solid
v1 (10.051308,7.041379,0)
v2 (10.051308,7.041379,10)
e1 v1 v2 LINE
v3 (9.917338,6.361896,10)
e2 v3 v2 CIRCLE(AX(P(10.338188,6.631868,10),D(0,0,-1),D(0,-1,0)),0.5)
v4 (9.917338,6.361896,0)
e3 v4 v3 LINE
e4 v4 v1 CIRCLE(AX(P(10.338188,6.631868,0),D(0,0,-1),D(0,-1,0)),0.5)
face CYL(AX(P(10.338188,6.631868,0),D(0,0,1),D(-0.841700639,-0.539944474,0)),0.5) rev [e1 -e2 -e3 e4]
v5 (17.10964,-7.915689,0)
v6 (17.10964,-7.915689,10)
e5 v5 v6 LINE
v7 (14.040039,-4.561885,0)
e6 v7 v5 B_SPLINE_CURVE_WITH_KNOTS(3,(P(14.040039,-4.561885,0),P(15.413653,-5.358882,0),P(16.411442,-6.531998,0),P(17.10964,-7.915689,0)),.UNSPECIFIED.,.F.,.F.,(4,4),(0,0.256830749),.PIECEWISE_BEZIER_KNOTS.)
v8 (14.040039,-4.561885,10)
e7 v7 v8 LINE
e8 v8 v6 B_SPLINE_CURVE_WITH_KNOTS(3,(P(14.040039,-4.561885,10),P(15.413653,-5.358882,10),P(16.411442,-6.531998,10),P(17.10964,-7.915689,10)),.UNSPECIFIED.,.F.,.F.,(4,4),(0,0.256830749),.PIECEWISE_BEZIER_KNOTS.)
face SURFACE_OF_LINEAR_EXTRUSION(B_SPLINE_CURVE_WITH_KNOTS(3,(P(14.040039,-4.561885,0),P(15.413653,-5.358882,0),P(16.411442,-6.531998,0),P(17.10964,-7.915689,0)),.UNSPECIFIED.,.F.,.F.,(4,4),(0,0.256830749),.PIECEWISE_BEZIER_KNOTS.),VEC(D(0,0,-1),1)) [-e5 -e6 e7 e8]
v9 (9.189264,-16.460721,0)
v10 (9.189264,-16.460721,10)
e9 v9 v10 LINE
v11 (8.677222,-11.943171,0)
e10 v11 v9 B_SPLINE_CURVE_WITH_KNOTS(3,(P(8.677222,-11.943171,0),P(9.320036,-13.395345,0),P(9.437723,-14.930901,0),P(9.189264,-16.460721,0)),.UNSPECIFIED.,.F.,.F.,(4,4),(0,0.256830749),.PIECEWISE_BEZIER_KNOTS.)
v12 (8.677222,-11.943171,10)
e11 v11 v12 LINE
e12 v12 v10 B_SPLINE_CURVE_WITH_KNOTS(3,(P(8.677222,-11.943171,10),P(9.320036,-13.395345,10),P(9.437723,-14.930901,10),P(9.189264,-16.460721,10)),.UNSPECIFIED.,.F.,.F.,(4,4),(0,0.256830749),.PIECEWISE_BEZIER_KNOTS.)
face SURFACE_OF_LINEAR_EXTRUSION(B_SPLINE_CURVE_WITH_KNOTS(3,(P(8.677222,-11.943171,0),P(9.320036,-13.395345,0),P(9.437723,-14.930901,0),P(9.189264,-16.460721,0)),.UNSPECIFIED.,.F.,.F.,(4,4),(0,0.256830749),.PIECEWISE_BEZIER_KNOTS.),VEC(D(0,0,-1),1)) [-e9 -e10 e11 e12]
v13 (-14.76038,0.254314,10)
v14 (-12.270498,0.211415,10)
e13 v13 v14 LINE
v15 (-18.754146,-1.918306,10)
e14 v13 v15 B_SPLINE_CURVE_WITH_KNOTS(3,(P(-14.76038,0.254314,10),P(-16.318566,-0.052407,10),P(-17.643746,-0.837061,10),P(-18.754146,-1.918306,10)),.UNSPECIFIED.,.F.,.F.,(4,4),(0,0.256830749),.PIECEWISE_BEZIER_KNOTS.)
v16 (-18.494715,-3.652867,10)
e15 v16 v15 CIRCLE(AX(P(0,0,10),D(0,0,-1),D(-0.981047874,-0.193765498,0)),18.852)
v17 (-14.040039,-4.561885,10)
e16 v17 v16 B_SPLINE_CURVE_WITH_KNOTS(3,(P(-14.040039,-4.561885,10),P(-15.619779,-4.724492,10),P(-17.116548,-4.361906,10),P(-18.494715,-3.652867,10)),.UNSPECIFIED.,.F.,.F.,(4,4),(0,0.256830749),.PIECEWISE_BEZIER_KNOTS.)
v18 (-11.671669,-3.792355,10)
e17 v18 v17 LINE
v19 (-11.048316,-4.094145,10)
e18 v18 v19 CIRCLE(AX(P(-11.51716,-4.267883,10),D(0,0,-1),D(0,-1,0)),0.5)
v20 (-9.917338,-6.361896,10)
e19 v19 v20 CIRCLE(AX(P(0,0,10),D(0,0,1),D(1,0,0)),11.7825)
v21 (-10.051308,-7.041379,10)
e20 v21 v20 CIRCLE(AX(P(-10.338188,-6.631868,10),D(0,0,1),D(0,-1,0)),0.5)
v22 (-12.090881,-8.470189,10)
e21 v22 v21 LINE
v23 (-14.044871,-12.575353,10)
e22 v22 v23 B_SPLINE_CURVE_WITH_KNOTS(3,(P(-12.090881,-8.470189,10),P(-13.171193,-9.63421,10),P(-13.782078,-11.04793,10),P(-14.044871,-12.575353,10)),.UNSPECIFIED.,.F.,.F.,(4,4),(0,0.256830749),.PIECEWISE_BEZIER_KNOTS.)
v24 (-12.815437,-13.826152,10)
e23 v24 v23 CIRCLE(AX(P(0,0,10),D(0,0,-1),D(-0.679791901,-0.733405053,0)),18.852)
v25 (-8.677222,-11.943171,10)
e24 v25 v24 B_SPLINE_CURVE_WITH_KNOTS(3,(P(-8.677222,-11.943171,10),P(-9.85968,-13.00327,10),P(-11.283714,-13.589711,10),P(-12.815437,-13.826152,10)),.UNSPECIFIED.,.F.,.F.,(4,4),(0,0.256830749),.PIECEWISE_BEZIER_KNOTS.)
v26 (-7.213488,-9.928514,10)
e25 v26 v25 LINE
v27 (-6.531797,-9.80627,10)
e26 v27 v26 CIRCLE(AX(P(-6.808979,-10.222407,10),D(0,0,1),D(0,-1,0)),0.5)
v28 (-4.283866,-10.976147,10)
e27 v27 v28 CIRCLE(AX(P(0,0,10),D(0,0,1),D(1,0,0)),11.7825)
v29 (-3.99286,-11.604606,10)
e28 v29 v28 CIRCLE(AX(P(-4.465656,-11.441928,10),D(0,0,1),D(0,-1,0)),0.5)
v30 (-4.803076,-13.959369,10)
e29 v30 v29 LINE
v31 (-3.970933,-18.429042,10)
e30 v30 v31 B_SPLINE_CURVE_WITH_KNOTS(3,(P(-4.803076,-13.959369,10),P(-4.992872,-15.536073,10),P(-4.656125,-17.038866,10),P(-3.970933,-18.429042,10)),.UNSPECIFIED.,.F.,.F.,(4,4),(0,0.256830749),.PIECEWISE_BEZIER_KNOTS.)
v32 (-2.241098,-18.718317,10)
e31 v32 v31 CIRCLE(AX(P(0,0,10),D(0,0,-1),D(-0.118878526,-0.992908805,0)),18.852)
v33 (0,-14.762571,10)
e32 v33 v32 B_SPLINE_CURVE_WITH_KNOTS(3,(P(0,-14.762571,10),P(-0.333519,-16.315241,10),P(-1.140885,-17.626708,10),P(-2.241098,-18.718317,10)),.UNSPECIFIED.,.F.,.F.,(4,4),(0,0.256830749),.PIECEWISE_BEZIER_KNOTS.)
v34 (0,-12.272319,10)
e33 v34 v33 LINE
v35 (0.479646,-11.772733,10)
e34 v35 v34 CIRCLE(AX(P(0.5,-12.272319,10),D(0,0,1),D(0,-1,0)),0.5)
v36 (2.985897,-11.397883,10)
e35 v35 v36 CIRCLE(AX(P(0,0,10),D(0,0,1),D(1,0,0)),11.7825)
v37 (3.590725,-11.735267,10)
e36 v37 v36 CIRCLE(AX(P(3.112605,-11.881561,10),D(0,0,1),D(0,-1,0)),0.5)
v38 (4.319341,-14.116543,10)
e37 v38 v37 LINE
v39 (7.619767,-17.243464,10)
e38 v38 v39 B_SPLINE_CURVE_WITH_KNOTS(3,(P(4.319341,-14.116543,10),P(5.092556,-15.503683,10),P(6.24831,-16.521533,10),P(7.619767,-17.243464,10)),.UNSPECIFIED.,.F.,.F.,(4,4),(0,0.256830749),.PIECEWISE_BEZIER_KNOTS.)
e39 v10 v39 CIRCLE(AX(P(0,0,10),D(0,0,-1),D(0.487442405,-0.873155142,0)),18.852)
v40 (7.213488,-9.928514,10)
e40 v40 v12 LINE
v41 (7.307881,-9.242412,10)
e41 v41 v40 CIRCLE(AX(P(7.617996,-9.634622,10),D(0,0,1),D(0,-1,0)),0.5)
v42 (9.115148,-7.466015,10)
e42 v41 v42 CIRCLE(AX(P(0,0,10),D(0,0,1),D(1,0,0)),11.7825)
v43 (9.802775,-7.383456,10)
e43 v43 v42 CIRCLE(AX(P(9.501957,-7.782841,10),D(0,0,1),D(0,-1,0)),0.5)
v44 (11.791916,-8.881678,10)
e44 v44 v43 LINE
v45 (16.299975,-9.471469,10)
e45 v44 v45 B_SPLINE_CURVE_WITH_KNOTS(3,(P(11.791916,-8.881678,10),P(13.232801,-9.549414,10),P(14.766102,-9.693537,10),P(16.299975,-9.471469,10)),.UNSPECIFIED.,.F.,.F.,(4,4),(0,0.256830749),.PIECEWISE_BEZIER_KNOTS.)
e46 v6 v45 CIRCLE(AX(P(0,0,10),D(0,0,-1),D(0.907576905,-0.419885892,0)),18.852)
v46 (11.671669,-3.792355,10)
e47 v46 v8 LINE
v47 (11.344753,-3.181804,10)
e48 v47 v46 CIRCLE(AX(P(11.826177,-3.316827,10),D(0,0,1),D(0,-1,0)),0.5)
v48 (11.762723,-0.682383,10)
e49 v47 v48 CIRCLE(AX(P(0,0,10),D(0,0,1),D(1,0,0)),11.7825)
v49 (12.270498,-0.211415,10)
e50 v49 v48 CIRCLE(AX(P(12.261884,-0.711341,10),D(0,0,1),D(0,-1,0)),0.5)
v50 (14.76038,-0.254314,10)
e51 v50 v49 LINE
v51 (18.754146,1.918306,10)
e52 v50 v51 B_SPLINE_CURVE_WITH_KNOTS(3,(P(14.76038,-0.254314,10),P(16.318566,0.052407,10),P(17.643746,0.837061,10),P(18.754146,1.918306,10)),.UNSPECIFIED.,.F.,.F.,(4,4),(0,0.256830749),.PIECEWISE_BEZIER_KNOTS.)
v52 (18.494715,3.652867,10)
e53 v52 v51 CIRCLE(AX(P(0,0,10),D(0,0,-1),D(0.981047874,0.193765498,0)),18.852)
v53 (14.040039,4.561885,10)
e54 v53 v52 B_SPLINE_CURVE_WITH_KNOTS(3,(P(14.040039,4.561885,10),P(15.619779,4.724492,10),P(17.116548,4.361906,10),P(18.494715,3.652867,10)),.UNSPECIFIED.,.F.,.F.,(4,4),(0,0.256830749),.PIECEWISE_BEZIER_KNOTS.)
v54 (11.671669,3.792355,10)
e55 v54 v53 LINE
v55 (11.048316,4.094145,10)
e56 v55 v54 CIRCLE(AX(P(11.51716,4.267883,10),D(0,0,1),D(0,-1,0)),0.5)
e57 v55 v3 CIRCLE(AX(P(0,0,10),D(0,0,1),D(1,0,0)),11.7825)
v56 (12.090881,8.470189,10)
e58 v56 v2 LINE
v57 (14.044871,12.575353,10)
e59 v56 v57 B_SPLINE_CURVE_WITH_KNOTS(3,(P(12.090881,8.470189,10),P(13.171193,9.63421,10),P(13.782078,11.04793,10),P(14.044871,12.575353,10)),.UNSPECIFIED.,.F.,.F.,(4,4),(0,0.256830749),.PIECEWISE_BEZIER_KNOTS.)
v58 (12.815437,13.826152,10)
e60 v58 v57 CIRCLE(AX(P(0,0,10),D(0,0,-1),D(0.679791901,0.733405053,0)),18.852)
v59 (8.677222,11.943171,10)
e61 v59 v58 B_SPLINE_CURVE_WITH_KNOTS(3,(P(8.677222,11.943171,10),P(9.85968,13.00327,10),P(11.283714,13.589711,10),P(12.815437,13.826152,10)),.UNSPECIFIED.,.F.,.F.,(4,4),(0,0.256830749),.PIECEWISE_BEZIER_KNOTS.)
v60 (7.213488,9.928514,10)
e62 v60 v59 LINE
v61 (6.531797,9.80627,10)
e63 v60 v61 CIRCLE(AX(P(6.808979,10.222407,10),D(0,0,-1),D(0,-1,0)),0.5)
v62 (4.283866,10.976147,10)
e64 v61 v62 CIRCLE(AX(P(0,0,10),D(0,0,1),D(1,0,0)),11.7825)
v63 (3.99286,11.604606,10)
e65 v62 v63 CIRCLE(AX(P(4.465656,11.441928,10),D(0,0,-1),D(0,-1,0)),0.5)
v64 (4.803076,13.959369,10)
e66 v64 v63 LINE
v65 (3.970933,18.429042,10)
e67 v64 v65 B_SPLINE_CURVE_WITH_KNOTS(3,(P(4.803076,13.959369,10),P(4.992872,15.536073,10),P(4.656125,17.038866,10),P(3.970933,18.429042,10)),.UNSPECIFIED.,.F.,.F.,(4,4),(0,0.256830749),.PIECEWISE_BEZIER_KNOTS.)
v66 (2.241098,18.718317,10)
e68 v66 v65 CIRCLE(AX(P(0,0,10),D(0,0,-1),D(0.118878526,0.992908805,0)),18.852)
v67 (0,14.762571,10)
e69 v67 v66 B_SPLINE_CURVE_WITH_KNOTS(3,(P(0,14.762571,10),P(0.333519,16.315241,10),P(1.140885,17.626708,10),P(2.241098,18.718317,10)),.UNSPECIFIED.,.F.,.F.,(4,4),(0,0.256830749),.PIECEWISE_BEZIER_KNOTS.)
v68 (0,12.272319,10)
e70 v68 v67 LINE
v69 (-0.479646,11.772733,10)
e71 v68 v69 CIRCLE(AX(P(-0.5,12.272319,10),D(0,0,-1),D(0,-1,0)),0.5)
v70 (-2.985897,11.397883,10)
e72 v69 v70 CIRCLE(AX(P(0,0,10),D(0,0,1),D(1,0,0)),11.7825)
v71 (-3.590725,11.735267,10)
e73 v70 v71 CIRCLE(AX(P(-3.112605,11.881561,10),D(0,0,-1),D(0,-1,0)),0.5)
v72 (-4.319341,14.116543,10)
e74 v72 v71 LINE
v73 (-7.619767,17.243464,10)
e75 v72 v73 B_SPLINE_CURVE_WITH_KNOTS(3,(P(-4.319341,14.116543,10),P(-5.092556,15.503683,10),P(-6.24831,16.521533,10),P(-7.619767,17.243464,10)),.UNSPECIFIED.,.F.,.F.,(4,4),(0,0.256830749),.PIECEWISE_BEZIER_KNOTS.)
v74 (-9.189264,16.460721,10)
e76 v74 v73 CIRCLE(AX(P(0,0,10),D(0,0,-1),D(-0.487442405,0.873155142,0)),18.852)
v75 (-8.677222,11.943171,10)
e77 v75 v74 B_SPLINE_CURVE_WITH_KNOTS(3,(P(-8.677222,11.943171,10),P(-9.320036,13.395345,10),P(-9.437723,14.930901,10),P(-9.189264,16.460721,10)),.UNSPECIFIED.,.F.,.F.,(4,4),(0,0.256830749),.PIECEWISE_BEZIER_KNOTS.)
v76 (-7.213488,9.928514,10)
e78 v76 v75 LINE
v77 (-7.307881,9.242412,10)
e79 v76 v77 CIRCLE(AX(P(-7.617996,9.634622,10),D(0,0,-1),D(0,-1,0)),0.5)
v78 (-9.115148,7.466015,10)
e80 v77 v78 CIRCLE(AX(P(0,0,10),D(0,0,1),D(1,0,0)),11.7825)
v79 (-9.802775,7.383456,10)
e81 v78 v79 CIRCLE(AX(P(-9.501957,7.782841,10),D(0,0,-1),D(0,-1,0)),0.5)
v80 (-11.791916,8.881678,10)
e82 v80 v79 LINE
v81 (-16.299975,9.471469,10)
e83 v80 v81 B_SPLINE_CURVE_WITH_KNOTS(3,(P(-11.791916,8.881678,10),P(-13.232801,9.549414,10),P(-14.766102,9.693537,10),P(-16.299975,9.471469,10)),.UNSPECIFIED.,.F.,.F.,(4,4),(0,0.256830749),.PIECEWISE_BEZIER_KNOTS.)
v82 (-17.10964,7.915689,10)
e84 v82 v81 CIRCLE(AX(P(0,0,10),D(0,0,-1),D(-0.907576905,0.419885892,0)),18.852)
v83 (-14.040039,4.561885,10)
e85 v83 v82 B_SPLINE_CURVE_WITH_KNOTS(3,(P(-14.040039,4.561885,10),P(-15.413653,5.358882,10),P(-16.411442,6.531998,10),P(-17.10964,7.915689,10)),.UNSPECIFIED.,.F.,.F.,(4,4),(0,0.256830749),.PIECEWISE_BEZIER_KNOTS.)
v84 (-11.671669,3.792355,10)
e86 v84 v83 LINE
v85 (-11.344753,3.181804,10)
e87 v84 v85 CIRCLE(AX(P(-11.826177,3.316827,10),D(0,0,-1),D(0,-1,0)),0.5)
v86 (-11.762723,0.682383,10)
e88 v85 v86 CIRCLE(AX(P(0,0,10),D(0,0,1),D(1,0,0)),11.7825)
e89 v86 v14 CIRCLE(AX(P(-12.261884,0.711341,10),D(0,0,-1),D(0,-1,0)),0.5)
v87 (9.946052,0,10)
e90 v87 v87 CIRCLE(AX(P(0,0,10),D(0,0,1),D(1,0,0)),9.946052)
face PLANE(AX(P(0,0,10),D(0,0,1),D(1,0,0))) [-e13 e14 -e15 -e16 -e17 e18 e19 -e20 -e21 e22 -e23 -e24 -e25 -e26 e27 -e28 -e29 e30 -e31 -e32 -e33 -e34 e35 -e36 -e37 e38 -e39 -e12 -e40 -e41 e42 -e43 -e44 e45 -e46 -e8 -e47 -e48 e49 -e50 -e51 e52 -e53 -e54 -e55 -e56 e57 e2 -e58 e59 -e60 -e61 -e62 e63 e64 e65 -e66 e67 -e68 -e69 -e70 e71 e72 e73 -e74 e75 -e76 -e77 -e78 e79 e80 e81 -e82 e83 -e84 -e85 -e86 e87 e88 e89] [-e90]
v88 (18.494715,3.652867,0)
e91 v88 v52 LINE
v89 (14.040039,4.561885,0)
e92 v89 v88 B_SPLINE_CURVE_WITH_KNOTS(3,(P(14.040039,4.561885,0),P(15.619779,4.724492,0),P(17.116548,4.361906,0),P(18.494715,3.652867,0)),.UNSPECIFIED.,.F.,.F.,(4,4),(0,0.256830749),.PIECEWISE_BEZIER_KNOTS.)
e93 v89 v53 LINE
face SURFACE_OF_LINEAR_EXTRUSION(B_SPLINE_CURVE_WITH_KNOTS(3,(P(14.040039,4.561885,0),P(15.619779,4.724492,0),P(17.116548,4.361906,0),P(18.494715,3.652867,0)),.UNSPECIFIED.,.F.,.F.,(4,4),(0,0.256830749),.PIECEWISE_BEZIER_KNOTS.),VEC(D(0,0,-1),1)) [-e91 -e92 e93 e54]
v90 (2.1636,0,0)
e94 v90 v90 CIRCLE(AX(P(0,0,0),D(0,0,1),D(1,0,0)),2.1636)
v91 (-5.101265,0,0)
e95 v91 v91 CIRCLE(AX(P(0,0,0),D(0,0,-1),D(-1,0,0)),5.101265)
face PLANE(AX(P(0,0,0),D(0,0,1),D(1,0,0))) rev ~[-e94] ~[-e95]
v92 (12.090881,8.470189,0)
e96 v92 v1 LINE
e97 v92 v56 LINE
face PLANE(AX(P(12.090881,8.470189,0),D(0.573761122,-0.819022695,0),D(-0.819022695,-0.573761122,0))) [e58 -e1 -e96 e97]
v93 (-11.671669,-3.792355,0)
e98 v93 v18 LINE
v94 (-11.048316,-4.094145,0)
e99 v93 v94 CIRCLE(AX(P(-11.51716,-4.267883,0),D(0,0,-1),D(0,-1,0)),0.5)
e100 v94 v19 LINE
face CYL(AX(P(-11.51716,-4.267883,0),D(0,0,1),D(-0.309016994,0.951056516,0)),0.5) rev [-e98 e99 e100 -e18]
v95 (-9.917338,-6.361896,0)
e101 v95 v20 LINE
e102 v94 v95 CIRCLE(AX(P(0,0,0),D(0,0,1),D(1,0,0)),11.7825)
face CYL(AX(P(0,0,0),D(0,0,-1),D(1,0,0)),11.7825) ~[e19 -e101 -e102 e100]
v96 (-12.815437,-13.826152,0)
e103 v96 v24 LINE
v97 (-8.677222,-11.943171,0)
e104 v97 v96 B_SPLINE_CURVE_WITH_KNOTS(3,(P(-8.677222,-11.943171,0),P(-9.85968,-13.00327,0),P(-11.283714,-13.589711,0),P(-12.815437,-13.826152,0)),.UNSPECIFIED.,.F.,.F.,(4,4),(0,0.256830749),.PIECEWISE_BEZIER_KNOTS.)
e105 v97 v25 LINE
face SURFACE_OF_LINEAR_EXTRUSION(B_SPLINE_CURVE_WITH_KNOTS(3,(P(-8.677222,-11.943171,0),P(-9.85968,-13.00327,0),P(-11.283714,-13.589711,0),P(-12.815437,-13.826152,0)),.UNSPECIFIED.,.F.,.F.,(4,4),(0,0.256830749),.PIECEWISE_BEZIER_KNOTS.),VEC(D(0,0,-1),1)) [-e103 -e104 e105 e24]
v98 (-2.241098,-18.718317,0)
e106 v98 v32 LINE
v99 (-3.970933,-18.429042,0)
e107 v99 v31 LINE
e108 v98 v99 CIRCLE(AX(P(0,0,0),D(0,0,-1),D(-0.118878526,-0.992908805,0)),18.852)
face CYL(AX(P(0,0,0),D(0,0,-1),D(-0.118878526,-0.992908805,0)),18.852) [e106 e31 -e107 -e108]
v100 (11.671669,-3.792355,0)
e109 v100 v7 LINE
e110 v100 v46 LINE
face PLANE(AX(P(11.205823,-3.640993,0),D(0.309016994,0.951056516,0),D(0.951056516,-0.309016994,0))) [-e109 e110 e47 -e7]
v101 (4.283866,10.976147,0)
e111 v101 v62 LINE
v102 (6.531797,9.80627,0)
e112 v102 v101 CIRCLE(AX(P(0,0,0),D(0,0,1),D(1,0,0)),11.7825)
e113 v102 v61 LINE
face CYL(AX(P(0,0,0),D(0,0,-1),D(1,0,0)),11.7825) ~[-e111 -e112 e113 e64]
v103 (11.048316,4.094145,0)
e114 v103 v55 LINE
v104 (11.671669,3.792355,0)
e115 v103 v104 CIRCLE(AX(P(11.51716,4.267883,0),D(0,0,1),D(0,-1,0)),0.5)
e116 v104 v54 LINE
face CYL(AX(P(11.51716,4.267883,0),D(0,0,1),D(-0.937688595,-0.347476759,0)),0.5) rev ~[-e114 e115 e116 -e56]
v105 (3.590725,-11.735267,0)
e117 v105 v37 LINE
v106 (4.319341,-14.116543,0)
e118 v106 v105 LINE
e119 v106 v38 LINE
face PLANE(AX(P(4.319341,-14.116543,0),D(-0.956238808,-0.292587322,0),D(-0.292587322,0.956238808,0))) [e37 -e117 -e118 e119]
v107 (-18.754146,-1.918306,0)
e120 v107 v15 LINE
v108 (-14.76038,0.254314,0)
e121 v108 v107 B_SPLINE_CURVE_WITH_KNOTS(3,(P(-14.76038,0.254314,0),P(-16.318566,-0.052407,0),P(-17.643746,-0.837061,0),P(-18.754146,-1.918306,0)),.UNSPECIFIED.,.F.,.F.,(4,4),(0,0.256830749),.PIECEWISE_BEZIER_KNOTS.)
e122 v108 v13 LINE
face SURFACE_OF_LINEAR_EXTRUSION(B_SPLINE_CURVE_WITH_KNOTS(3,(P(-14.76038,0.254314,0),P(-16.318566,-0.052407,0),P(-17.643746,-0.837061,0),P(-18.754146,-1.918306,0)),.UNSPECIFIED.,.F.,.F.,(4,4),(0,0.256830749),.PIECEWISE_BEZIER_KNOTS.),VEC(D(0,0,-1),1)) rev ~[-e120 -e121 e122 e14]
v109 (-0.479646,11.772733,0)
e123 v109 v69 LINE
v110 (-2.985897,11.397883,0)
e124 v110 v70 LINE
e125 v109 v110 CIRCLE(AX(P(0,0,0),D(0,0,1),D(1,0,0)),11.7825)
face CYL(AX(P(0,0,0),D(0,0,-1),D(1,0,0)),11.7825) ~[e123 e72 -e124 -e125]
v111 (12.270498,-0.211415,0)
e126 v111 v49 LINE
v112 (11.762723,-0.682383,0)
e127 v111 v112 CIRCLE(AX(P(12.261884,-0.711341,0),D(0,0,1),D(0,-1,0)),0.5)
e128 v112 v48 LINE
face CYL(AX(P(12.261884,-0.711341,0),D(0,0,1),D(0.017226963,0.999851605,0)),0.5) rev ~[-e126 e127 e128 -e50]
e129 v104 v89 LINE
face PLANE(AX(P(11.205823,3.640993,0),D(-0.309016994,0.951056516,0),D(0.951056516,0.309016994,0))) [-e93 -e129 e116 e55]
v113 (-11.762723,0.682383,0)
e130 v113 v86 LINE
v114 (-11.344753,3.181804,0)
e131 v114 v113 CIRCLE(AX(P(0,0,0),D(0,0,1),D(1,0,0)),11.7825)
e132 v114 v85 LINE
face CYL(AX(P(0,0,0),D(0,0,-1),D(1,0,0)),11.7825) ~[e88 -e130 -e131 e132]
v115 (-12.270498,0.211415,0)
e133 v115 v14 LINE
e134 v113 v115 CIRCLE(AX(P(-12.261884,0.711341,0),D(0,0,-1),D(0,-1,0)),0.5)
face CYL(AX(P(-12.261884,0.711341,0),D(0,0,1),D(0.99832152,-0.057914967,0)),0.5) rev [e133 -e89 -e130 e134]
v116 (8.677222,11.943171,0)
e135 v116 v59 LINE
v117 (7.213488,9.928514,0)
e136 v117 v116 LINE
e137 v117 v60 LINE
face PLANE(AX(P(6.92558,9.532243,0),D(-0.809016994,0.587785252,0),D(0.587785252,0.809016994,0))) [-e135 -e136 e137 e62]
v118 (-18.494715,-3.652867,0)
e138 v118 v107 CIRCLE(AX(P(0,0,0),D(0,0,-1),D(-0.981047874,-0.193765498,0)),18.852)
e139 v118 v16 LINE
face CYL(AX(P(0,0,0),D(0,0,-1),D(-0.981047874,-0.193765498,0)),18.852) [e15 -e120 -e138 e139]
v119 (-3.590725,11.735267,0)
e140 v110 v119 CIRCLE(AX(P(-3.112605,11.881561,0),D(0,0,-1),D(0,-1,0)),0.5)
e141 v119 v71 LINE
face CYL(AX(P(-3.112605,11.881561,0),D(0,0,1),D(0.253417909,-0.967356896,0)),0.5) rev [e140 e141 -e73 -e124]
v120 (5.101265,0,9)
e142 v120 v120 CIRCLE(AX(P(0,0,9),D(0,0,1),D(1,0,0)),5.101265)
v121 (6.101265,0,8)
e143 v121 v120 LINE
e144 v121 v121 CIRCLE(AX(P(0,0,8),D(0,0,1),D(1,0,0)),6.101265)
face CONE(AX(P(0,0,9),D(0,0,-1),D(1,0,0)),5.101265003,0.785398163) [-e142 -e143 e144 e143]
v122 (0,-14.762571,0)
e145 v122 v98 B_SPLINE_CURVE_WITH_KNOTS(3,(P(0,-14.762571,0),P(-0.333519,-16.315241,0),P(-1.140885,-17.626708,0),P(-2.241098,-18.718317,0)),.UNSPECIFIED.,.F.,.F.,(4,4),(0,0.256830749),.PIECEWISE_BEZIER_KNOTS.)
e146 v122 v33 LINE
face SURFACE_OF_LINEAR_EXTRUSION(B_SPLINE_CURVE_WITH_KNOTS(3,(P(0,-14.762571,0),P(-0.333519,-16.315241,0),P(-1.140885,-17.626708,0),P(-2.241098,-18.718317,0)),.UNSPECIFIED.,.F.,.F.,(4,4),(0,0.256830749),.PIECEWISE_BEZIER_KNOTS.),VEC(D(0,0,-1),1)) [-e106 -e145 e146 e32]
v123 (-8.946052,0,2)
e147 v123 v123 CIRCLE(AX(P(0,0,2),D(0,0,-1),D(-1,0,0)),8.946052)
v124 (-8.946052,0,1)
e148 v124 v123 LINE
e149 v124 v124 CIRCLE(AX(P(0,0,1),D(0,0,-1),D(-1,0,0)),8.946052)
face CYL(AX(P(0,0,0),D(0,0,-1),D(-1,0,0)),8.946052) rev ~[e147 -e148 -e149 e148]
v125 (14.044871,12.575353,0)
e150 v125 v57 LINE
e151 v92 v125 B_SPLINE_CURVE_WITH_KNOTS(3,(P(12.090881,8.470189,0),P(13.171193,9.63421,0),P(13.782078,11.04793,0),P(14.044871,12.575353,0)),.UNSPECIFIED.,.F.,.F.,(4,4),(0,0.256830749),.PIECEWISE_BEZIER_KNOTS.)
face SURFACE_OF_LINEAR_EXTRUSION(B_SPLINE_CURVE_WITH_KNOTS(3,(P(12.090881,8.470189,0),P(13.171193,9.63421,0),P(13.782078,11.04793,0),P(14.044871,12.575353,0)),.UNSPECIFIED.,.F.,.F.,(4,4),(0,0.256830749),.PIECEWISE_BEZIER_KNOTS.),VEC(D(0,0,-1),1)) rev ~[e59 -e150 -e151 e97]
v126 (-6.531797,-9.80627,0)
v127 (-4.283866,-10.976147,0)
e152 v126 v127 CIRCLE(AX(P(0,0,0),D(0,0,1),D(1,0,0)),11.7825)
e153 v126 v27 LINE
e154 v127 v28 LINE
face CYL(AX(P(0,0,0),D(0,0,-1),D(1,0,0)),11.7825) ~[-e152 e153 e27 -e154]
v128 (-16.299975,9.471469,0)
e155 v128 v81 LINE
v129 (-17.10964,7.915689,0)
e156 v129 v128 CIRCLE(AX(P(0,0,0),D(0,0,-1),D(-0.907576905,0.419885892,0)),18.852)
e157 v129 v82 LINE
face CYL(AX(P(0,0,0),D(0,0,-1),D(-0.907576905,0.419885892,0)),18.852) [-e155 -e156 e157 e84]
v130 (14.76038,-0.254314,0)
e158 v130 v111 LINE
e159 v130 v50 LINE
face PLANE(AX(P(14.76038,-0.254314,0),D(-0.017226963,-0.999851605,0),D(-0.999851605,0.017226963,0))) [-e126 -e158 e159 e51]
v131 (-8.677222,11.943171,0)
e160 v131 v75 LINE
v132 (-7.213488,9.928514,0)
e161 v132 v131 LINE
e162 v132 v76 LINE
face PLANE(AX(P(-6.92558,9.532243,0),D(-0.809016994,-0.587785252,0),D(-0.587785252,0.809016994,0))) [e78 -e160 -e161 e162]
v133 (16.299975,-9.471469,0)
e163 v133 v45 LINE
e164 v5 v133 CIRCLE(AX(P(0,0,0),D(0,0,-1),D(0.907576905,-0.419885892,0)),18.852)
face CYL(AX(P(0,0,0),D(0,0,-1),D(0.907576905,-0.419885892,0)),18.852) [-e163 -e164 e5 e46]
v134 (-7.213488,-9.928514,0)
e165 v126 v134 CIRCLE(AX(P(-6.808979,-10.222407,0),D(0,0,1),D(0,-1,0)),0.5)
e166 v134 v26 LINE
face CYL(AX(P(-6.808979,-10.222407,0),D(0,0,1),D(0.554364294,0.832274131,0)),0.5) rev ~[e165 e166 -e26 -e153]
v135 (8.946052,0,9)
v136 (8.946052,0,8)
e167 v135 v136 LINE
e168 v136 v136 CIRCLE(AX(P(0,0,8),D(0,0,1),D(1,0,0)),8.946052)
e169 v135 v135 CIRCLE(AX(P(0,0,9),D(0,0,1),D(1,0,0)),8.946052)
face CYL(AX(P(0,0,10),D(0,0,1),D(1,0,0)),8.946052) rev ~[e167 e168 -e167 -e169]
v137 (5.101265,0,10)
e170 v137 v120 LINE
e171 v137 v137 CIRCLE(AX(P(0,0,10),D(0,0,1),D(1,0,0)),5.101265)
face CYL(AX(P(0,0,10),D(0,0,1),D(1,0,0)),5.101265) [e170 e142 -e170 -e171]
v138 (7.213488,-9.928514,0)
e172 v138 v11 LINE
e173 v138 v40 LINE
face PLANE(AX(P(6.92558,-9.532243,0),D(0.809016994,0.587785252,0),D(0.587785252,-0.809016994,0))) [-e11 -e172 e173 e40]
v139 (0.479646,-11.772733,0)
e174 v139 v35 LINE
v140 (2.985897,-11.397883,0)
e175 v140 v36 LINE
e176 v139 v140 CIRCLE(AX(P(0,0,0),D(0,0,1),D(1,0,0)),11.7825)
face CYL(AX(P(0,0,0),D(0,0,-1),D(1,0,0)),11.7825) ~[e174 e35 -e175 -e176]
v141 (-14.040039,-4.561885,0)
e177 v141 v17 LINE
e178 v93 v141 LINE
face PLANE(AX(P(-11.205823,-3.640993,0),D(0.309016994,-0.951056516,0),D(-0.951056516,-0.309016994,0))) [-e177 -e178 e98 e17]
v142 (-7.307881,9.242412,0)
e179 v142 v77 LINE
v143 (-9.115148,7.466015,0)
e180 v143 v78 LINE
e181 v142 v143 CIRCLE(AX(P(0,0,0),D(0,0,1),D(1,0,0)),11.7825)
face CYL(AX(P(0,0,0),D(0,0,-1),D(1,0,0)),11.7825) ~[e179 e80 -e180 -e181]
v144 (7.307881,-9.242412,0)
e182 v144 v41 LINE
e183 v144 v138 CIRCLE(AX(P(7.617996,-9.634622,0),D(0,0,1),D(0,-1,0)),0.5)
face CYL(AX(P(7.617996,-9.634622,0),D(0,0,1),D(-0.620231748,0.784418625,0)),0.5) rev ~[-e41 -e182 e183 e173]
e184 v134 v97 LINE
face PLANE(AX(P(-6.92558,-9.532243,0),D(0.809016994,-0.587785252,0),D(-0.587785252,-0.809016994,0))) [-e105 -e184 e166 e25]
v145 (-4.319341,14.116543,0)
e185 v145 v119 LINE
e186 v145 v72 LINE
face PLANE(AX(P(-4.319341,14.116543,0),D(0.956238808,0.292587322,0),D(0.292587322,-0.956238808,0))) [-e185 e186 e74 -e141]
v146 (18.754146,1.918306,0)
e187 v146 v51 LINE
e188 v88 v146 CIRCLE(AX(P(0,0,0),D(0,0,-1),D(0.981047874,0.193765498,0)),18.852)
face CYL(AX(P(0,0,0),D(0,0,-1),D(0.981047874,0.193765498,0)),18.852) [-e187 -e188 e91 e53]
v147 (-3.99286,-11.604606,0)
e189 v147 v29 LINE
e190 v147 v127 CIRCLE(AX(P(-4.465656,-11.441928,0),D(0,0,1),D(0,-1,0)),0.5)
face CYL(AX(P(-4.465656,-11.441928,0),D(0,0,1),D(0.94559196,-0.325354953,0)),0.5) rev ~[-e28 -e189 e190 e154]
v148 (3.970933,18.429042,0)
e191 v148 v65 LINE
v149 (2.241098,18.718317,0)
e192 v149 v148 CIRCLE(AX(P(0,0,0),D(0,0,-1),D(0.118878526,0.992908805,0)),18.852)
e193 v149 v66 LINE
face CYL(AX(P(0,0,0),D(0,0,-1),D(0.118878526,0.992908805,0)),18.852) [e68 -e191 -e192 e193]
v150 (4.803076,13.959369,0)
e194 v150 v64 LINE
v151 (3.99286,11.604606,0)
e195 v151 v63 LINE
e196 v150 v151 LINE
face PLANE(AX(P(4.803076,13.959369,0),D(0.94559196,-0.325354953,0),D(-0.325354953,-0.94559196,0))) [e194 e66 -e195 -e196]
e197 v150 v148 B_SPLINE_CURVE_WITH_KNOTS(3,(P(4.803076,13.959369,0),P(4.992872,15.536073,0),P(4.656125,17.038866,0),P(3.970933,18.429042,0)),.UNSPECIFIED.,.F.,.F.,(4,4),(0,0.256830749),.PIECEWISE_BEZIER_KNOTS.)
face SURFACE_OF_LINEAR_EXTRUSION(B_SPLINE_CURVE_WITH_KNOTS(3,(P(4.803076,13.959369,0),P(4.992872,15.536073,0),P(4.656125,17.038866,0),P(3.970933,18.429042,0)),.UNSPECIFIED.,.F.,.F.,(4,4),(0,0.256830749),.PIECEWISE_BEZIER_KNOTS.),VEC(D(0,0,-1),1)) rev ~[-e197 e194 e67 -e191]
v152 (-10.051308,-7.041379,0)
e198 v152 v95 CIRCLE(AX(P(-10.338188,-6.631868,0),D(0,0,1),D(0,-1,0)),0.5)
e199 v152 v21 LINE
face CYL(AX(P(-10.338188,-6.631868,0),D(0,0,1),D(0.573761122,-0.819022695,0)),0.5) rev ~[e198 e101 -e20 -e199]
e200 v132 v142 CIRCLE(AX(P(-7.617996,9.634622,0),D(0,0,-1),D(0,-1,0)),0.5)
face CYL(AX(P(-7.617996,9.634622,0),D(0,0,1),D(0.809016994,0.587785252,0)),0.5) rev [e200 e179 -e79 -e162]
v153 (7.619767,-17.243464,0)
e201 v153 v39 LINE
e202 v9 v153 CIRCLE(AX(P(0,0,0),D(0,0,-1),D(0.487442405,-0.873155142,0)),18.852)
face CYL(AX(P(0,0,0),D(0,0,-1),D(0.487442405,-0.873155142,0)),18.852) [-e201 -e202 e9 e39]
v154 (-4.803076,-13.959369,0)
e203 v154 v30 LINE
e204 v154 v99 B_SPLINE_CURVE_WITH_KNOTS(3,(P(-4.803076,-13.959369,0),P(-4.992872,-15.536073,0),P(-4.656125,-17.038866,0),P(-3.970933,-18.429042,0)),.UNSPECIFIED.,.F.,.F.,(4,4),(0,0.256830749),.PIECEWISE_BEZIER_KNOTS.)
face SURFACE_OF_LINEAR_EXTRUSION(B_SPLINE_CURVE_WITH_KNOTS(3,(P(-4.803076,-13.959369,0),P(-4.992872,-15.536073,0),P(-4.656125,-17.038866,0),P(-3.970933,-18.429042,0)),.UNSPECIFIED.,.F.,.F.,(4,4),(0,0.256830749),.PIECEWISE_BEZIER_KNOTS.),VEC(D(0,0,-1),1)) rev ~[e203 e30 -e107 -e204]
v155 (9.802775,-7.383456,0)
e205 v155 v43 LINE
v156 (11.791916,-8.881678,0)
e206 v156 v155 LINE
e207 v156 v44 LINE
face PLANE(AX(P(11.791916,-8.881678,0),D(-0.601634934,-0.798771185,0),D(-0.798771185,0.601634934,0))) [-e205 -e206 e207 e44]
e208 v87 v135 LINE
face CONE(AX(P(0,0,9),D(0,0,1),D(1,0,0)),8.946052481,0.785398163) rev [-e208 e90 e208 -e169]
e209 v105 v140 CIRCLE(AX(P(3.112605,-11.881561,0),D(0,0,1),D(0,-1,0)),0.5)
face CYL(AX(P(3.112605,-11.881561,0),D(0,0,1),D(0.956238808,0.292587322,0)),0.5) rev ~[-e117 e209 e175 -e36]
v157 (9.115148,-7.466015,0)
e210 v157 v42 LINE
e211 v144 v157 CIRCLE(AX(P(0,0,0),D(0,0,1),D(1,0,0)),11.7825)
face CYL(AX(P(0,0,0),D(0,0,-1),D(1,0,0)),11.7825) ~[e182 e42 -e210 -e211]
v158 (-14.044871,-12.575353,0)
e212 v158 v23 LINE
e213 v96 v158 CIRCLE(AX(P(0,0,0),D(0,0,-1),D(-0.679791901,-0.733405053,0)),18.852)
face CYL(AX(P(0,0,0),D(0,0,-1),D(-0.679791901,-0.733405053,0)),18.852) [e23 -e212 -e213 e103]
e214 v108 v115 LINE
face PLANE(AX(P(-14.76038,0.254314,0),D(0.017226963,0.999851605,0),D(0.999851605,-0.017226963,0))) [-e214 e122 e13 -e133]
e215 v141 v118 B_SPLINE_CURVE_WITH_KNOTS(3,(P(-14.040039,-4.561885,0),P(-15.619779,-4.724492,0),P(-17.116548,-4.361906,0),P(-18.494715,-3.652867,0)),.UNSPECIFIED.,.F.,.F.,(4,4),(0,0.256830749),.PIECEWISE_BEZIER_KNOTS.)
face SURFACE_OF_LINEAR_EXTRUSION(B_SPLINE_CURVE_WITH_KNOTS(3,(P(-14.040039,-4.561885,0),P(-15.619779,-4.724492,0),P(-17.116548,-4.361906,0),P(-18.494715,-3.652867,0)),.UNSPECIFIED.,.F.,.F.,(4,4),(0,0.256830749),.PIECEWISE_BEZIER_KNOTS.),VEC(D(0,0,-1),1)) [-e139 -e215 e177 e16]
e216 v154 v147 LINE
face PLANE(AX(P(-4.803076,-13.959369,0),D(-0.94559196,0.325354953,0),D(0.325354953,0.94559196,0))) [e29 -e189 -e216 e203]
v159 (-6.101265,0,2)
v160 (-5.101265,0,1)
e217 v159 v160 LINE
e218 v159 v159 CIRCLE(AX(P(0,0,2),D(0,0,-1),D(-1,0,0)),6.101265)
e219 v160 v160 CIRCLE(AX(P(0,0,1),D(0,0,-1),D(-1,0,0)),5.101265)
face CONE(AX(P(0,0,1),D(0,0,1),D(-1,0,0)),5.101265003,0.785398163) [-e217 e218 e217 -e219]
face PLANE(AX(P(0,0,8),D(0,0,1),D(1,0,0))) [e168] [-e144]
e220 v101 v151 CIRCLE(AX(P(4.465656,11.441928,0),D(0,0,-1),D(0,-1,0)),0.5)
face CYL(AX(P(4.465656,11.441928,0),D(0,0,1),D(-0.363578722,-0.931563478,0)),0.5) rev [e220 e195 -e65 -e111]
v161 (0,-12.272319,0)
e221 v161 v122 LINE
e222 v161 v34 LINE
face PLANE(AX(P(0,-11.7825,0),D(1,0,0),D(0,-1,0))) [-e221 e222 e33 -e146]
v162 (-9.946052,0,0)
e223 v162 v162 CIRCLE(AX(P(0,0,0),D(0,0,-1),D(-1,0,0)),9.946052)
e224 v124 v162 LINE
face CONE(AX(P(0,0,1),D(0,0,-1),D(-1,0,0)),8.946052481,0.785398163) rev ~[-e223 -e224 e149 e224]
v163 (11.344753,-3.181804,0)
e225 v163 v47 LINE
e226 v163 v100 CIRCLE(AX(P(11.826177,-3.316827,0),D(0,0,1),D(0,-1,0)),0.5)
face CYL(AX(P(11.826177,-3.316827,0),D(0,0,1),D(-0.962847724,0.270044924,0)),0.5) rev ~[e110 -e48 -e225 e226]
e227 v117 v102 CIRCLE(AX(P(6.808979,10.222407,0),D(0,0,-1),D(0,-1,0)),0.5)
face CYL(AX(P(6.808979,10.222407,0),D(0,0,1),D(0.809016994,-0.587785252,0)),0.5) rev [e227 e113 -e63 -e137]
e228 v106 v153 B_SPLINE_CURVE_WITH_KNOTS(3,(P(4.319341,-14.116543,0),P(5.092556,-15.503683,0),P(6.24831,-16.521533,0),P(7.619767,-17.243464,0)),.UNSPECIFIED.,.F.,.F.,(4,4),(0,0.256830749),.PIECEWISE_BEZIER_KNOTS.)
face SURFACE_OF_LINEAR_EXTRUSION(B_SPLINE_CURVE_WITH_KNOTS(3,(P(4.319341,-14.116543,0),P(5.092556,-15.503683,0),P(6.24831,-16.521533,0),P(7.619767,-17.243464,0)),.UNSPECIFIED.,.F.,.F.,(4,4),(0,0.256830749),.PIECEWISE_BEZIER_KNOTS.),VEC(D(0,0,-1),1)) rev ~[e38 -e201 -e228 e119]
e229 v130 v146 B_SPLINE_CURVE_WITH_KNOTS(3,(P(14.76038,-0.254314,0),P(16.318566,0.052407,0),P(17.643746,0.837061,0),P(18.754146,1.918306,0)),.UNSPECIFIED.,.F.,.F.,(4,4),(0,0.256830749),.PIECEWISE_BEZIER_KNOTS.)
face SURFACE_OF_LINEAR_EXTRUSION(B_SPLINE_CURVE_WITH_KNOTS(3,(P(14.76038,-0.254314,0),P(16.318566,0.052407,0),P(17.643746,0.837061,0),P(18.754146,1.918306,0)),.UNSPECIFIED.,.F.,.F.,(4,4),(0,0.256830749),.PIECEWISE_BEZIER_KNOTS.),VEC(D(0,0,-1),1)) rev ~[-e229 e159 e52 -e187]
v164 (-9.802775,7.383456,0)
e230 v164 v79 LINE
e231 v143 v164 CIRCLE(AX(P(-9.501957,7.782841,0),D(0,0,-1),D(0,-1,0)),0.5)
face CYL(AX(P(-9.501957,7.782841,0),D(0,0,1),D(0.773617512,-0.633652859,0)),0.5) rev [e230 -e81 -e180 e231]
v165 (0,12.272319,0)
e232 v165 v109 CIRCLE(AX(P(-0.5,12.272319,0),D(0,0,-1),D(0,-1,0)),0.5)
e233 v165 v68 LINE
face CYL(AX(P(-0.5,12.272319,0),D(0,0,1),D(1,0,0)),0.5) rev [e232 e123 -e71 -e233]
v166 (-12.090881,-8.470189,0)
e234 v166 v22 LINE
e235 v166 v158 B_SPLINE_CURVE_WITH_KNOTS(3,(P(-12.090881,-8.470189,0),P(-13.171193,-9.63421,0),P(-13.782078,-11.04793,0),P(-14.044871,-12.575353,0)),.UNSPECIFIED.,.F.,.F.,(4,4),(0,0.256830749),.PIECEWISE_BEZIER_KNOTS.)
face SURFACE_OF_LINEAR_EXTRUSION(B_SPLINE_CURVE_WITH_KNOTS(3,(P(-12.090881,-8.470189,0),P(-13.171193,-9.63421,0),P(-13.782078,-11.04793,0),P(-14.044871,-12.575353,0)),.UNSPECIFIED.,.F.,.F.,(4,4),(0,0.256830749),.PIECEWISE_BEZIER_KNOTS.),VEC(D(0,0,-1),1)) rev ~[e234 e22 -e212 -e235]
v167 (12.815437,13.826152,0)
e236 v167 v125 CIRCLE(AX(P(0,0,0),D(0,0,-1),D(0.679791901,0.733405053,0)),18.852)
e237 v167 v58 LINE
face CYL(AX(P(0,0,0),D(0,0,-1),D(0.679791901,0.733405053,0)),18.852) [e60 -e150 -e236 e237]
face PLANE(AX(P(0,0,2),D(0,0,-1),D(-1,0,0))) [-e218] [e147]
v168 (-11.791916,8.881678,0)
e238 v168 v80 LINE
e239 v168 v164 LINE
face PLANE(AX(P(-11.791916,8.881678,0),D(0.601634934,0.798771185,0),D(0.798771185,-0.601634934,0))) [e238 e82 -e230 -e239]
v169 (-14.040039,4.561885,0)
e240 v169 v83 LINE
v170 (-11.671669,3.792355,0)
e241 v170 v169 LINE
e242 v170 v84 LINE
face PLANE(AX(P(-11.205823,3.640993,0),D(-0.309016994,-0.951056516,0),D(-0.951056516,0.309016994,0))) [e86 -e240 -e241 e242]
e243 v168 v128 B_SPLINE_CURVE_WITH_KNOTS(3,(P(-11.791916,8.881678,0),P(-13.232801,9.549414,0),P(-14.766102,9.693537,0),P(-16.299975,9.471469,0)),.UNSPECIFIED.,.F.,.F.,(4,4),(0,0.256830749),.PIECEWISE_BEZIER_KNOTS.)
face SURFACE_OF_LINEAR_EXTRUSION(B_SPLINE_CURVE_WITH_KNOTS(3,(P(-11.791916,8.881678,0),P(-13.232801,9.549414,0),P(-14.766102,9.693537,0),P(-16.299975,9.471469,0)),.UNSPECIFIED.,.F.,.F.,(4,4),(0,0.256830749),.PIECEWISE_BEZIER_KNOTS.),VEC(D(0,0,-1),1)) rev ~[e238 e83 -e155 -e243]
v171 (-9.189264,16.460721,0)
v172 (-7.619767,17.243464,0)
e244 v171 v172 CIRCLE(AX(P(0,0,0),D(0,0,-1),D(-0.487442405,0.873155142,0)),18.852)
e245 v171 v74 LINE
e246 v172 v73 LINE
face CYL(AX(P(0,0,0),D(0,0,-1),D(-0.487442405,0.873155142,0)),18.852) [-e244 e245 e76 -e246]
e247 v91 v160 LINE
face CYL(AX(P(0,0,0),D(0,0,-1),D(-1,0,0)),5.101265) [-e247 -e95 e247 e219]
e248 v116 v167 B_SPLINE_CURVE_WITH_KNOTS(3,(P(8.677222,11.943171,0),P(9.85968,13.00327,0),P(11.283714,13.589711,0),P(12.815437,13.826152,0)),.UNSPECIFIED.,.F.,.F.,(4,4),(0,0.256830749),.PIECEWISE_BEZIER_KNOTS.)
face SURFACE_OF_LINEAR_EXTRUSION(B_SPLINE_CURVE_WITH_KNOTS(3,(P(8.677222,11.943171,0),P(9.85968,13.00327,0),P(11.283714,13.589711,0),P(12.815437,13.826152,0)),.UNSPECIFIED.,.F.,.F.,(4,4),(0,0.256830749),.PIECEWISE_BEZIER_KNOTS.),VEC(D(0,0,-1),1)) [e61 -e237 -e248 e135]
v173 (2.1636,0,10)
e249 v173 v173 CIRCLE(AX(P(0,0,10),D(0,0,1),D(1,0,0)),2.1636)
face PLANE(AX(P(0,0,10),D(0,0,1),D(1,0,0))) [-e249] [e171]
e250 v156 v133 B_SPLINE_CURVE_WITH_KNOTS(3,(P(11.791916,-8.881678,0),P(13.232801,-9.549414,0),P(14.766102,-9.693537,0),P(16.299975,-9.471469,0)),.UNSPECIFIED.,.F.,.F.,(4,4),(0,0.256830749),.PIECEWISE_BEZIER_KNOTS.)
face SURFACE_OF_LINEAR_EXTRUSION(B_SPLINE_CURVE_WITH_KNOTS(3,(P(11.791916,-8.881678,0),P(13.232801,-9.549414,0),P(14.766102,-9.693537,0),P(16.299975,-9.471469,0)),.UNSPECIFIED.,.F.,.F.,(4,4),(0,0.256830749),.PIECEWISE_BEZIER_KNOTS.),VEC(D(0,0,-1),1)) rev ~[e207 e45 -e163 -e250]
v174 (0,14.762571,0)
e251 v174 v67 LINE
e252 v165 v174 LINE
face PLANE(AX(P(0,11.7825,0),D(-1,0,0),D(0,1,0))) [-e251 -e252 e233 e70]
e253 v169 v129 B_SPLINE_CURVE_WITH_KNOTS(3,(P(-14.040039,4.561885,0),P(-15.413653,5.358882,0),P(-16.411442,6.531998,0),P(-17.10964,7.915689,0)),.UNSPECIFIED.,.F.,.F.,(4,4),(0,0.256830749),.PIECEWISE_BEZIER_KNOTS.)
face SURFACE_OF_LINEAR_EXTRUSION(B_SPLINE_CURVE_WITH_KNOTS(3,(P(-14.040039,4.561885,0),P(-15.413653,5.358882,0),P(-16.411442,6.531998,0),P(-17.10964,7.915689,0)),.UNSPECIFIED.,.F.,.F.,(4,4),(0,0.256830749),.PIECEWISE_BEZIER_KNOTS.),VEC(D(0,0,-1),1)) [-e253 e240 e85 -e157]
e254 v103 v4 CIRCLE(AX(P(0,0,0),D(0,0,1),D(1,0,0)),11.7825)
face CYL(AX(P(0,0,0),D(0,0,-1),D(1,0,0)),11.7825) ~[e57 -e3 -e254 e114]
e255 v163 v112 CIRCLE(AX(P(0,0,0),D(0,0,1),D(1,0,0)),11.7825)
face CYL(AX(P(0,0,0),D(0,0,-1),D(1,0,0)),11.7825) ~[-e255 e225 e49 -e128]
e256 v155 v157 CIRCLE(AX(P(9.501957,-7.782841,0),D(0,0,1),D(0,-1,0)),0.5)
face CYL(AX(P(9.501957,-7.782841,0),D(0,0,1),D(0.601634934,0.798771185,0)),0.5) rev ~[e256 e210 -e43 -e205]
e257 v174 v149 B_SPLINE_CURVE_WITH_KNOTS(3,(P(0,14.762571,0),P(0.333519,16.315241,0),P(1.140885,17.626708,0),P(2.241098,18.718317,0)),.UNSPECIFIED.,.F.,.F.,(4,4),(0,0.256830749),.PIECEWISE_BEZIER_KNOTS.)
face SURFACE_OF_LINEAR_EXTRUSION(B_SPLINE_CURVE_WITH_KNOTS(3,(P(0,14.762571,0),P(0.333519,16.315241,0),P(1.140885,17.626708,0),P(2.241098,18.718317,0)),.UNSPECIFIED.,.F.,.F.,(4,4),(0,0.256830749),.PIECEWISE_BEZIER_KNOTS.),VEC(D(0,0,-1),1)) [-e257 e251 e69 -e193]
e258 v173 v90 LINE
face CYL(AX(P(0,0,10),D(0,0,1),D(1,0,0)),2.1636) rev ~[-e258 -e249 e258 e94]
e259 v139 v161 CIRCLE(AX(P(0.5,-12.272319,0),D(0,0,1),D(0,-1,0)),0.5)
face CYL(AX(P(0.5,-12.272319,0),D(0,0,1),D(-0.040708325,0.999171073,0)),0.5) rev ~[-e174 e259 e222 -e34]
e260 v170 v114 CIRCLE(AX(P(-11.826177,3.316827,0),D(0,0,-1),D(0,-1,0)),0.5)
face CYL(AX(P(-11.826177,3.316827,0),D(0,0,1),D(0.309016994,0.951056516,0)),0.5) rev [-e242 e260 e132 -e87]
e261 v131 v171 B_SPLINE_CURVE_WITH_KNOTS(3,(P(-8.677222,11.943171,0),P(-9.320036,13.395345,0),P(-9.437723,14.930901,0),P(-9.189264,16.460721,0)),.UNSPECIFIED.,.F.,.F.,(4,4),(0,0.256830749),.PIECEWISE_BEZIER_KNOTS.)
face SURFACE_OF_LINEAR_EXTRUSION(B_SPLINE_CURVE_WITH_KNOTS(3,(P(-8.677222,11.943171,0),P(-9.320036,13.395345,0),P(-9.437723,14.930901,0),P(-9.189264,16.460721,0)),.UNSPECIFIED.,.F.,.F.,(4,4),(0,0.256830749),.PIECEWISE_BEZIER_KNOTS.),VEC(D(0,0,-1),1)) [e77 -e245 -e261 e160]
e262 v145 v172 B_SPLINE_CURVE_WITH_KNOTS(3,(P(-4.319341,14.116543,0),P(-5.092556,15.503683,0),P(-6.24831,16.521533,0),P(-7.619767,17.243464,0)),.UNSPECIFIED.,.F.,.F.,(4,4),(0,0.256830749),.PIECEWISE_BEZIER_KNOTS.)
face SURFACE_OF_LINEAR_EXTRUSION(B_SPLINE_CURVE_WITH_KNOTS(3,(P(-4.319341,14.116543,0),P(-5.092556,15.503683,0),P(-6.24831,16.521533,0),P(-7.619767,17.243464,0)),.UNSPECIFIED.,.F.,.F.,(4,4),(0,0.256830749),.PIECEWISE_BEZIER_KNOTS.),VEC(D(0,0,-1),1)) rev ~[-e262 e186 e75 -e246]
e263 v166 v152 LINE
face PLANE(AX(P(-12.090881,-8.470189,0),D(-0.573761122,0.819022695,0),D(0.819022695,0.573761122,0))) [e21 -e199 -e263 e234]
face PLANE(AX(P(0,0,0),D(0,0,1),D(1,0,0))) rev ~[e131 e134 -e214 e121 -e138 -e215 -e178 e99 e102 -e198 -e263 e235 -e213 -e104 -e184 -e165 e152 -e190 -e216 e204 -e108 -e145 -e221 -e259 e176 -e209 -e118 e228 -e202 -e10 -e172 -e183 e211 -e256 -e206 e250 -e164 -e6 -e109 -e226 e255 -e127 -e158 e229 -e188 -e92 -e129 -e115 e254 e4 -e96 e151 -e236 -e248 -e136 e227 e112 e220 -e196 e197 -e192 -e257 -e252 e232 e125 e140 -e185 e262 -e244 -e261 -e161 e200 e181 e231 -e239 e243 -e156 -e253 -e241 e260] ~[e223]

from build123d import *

# Parameters (mm, degrees)
BOSS_EXTRUDE1_DEPTH = 10
CIRPATTERN1_COUNT   = 10
SKETCH1_R           = 11.7825
BOSS_EXTRUDE2_DEPTH = 10
SKETCH4_R           = 8.946052481
SKETCH4_R_2         = 5.101265003
CUT_EXTRUDE1_DEPTH  = 2
SKETCH4_3_R         = 2.163600103
CUT_EXTRUDE2_DEPTH  = 29.32125352
CUT_EXTRUDE3_START  = -2
SKETCH5_R           = 8.946052481
SKETCH5_R_2         = 5.101265003
CUT_EXTRUDE3_DEPTH  = 2
FILLET1_R           = 0.5
CHAMFER1_SIZE       = 1
CHAMFER2_SIZE       = 1


with BuildPart() as part:
    # Sketch3 → Boss-Extrude1 (new body)
    with BuildSketch(Plane.XY):
        with BuildLine():
            Line((4.803075617, 13.959368513), (3.833494733, 11.141437267))
            ThreePointArc((3.833494733, 11.141437267), (1.943363276, 11.621129266), (0, 11.7825))
            Line((0, 11.7825), (0, 14.762571073))
            add(Edge.make_bspline(
                [(0, 14.762571073), (0.333518774, 16.315241106), (1.140884964, 17.626707575), (2.241097954, 18.718316804)],
                knots=[0, 0, 0, 0, 0.256830749, 0.256830749, 0.256830749, 0.256830749], degree=3))
            ThreePointArc((2.241097954, 18.718316804), (3.109381242, 18.593806826), (3.970932877, 18.429042191))
            add(Edge.make_bspline(
                [(4.803075617, 13.959368513), (4.992871831, 15.536072798), (4.656124965, 17.038865536), (3.970932877, 18.429042191)],
                knots=[0, 0, 0, 0, 0.256830749, 0.256830749, 0.256830749, 0.256830749], degree=3))
        make_face()
    extrude(amount=BOSS_EXTRUDE1_DEPTH)


with BuildPart() as cirpattern1_1:
    # CirPattern1: pattern copy
    add(part.part.rotate(Axis((0, 0, 0), (0, 0, 1)), 1 * 360 / CIRPATTERN1_COUNT))


with BuildPart() as cirpattern1_2:
    # CirPattern1: pattern copy
    add(part.part.rotate(Axis((0, 0, 0), (0, 0, 1)), 2 * 360 / CIRPATTERN1_COUNT))


with BuildPart() as cirpattern1_3:
    # CirPattern1: pattern copy
    add(part.part.rotate(Axis((0, 0, 0), (0, 0, 1)), 3 * 360 / CIRPATTERN1_COUNT))


with BuildPart() as cirpattern1_4:
    # CirPattern1: pattern copy
    add(part.part.rotate(Axis((0, 0, 0), (0, 0, 1)), 4 * 360 / CIRPATTERN1_COUNT))


with BuildPart() as cirpattern1_5:
    # CirPattern1: pattern copy
    add(part.part.rotate(Axis((0, 0, 0), (0, 0, 1)), 5 * 360 / CIRPATTERN1_COUNT))


with BuildPart() as cirpattern1_6:
    # CirPattern1: pattern copy
    add(part.part.rotate(Axis((0, 0, 0), (0, 0, 1)), 6 * 360 / CIRPATTERN1_COUNT))


with BuildPart() as cirpattern1_7:
    # CirPattern1: pattern copy
    add(part.part.rotate(Axis((0, 0, 0), (0, 0, 1)), 7 * 360 / CIRPATTERN1_COUNT))


with BuildPart() as cirpattern1_8:
    # CirPattern1: pattern copy
    add(part.part.rotate(Axis((0, 0, 0), (0, 0, 1)), 8 * 360 / CIRPATTERN1_COUNT))


with BuildPart() as cirpattern1_9:
    # CirPattern1: pattern copy
    add(part.part.rotate(Axis((0, 0, 0), (0, 0, 1)), 9 * 360 / CIRPATTERN1_COUNT))


with BuildPart() as part_1:
    add(part.part)

    add(cirpattern1_1.part)  # Boss-Extrude2 merges CirPattern1_1

    add(cirpattern1_2.part)  # Boss-Extrude2 merges CirPattern1_2

    add(cirpattern1_3.part)  # Boss-Extrude2 merges CirPattern1_3

    add(cirpattern1_4.part)  # Boss-Extrude2 merges CirPattern1_4

    add(cirpattern1_5.part)  # Boss-Extrude2 merges CirPattern1_5

    add(cirpattern1_6.part)  # Boss-Extrude2 merges CirPattern1_6

    add(cirpattern1_7.part)  # Boss-Extrude2 merges CirPattern1_7

    add(cirpattern1_8.part)  # Boss-Extrude2 merges CirPattern1_8

    add(cirpattern1_9.part)  # Boss-Extrude2 merges CirPattern1_9
    # Sketch1 → Boss-Extrude2 (add)
    with BuildSketch(Plane.XY):
        Circle(SKETCH1_R)
    extrude(amount=BOSS_EXTRUDE2_DEPTH)

    # Sketch4 → Cut-Extrude1 (cut)
    with BuildSketch(Plane.XY.offset(10)):
        Circle(SKETCH4_R)
        Circle(SKETCH4_R_2, mode=Mode.SUBTRACT)
    extrude(amount=-CUT_EXTRUDE1_DEPTH, mode=Mode.SUBTRACT)

    # Sketch4<3> → Cut-Extrude2 (cut, through all)
    with BuildSketch(Plane.XY.offset(10)):
        Circle(SKETCH4_3_R)
    extrude(amount=-CUT_EXTRUDE2_DEPTH, mode=Mode.SUBTRACT)

    # Sketch5 → Cut-Extrude3 (cut)
    with BuildSketch(Plane(origin=(0, 0, 0), x_dir=(-1, 0, 0), z_dir=(0, 0, -1)).offset(CUT_EXTRUDE3_START)):
        Circle(SKETCH5_R)
        Circle(SKETCH5_R_2, mode=Mode.SUBTRACT)
    extrude(amount=CUT_EXTRUDE3_DEPTH, mode=Mode.SUBTRACT)

    # Fillet1
    fillet1_edges = [part_1.edges().sort_by_distance(p)[0] for p in [
        (-3.447410128, 11.26688376, 5),
        (-11.205823403, 3.640992736, 5),
        (-6.925579735, 9.532242736, 5),
        (-9.650134902, -6.760340422, 5),
        (-11.780751534, 0.202976689, 5),
        (-9.411521493, 7.088763604, 5),
        (0, 11.7825, 5),
        (6.925579735, 9.532242736, 5),
        (-3.833494733, -11.141437267, 5),
        (-11.205823403, -3.640992736, 5),
        (-6.925579735, -9.532242736, 5),
        (0, -11.7825, 5),
        (3.447410128, -11.26688376, 5),
        (9.411521493, -7.088763604, 5),
        (3.833494733, 11.141437267, 5),
        (6.925579735, -9.532242736, 5),
        (11.205823403, -3.640992736, 5),
        (11.780751534, -0.202976689, 5),
        (11.205823403, 3.640992736, 5),
        (9.650134902, 6.760340422, 5),
    ]]
    fillet(fillet1_edges, radius=FILLET1_R)

    # Chamfer1
    chamfer1_edges = [part_1.edges().sort_by_distance(p)[0] for p in [
        (-5.101265003, 0, 8),
        (5.101265003, 0, 2),
    ]]
    chamfer(chamfer1_edges, length=CHAMFER1_SIZE)

    # Chamfer2
    chamfer2_edges = [part_1.edges().sort_by_distance(p)[0] for p in [
        (-8.946052481, 0, 10),
        (8.946052481, 0, 0),
    ]]
    chamfer(chamfer2_edges, length=CHAMFER2_SIZE)


solid = part_1.part
